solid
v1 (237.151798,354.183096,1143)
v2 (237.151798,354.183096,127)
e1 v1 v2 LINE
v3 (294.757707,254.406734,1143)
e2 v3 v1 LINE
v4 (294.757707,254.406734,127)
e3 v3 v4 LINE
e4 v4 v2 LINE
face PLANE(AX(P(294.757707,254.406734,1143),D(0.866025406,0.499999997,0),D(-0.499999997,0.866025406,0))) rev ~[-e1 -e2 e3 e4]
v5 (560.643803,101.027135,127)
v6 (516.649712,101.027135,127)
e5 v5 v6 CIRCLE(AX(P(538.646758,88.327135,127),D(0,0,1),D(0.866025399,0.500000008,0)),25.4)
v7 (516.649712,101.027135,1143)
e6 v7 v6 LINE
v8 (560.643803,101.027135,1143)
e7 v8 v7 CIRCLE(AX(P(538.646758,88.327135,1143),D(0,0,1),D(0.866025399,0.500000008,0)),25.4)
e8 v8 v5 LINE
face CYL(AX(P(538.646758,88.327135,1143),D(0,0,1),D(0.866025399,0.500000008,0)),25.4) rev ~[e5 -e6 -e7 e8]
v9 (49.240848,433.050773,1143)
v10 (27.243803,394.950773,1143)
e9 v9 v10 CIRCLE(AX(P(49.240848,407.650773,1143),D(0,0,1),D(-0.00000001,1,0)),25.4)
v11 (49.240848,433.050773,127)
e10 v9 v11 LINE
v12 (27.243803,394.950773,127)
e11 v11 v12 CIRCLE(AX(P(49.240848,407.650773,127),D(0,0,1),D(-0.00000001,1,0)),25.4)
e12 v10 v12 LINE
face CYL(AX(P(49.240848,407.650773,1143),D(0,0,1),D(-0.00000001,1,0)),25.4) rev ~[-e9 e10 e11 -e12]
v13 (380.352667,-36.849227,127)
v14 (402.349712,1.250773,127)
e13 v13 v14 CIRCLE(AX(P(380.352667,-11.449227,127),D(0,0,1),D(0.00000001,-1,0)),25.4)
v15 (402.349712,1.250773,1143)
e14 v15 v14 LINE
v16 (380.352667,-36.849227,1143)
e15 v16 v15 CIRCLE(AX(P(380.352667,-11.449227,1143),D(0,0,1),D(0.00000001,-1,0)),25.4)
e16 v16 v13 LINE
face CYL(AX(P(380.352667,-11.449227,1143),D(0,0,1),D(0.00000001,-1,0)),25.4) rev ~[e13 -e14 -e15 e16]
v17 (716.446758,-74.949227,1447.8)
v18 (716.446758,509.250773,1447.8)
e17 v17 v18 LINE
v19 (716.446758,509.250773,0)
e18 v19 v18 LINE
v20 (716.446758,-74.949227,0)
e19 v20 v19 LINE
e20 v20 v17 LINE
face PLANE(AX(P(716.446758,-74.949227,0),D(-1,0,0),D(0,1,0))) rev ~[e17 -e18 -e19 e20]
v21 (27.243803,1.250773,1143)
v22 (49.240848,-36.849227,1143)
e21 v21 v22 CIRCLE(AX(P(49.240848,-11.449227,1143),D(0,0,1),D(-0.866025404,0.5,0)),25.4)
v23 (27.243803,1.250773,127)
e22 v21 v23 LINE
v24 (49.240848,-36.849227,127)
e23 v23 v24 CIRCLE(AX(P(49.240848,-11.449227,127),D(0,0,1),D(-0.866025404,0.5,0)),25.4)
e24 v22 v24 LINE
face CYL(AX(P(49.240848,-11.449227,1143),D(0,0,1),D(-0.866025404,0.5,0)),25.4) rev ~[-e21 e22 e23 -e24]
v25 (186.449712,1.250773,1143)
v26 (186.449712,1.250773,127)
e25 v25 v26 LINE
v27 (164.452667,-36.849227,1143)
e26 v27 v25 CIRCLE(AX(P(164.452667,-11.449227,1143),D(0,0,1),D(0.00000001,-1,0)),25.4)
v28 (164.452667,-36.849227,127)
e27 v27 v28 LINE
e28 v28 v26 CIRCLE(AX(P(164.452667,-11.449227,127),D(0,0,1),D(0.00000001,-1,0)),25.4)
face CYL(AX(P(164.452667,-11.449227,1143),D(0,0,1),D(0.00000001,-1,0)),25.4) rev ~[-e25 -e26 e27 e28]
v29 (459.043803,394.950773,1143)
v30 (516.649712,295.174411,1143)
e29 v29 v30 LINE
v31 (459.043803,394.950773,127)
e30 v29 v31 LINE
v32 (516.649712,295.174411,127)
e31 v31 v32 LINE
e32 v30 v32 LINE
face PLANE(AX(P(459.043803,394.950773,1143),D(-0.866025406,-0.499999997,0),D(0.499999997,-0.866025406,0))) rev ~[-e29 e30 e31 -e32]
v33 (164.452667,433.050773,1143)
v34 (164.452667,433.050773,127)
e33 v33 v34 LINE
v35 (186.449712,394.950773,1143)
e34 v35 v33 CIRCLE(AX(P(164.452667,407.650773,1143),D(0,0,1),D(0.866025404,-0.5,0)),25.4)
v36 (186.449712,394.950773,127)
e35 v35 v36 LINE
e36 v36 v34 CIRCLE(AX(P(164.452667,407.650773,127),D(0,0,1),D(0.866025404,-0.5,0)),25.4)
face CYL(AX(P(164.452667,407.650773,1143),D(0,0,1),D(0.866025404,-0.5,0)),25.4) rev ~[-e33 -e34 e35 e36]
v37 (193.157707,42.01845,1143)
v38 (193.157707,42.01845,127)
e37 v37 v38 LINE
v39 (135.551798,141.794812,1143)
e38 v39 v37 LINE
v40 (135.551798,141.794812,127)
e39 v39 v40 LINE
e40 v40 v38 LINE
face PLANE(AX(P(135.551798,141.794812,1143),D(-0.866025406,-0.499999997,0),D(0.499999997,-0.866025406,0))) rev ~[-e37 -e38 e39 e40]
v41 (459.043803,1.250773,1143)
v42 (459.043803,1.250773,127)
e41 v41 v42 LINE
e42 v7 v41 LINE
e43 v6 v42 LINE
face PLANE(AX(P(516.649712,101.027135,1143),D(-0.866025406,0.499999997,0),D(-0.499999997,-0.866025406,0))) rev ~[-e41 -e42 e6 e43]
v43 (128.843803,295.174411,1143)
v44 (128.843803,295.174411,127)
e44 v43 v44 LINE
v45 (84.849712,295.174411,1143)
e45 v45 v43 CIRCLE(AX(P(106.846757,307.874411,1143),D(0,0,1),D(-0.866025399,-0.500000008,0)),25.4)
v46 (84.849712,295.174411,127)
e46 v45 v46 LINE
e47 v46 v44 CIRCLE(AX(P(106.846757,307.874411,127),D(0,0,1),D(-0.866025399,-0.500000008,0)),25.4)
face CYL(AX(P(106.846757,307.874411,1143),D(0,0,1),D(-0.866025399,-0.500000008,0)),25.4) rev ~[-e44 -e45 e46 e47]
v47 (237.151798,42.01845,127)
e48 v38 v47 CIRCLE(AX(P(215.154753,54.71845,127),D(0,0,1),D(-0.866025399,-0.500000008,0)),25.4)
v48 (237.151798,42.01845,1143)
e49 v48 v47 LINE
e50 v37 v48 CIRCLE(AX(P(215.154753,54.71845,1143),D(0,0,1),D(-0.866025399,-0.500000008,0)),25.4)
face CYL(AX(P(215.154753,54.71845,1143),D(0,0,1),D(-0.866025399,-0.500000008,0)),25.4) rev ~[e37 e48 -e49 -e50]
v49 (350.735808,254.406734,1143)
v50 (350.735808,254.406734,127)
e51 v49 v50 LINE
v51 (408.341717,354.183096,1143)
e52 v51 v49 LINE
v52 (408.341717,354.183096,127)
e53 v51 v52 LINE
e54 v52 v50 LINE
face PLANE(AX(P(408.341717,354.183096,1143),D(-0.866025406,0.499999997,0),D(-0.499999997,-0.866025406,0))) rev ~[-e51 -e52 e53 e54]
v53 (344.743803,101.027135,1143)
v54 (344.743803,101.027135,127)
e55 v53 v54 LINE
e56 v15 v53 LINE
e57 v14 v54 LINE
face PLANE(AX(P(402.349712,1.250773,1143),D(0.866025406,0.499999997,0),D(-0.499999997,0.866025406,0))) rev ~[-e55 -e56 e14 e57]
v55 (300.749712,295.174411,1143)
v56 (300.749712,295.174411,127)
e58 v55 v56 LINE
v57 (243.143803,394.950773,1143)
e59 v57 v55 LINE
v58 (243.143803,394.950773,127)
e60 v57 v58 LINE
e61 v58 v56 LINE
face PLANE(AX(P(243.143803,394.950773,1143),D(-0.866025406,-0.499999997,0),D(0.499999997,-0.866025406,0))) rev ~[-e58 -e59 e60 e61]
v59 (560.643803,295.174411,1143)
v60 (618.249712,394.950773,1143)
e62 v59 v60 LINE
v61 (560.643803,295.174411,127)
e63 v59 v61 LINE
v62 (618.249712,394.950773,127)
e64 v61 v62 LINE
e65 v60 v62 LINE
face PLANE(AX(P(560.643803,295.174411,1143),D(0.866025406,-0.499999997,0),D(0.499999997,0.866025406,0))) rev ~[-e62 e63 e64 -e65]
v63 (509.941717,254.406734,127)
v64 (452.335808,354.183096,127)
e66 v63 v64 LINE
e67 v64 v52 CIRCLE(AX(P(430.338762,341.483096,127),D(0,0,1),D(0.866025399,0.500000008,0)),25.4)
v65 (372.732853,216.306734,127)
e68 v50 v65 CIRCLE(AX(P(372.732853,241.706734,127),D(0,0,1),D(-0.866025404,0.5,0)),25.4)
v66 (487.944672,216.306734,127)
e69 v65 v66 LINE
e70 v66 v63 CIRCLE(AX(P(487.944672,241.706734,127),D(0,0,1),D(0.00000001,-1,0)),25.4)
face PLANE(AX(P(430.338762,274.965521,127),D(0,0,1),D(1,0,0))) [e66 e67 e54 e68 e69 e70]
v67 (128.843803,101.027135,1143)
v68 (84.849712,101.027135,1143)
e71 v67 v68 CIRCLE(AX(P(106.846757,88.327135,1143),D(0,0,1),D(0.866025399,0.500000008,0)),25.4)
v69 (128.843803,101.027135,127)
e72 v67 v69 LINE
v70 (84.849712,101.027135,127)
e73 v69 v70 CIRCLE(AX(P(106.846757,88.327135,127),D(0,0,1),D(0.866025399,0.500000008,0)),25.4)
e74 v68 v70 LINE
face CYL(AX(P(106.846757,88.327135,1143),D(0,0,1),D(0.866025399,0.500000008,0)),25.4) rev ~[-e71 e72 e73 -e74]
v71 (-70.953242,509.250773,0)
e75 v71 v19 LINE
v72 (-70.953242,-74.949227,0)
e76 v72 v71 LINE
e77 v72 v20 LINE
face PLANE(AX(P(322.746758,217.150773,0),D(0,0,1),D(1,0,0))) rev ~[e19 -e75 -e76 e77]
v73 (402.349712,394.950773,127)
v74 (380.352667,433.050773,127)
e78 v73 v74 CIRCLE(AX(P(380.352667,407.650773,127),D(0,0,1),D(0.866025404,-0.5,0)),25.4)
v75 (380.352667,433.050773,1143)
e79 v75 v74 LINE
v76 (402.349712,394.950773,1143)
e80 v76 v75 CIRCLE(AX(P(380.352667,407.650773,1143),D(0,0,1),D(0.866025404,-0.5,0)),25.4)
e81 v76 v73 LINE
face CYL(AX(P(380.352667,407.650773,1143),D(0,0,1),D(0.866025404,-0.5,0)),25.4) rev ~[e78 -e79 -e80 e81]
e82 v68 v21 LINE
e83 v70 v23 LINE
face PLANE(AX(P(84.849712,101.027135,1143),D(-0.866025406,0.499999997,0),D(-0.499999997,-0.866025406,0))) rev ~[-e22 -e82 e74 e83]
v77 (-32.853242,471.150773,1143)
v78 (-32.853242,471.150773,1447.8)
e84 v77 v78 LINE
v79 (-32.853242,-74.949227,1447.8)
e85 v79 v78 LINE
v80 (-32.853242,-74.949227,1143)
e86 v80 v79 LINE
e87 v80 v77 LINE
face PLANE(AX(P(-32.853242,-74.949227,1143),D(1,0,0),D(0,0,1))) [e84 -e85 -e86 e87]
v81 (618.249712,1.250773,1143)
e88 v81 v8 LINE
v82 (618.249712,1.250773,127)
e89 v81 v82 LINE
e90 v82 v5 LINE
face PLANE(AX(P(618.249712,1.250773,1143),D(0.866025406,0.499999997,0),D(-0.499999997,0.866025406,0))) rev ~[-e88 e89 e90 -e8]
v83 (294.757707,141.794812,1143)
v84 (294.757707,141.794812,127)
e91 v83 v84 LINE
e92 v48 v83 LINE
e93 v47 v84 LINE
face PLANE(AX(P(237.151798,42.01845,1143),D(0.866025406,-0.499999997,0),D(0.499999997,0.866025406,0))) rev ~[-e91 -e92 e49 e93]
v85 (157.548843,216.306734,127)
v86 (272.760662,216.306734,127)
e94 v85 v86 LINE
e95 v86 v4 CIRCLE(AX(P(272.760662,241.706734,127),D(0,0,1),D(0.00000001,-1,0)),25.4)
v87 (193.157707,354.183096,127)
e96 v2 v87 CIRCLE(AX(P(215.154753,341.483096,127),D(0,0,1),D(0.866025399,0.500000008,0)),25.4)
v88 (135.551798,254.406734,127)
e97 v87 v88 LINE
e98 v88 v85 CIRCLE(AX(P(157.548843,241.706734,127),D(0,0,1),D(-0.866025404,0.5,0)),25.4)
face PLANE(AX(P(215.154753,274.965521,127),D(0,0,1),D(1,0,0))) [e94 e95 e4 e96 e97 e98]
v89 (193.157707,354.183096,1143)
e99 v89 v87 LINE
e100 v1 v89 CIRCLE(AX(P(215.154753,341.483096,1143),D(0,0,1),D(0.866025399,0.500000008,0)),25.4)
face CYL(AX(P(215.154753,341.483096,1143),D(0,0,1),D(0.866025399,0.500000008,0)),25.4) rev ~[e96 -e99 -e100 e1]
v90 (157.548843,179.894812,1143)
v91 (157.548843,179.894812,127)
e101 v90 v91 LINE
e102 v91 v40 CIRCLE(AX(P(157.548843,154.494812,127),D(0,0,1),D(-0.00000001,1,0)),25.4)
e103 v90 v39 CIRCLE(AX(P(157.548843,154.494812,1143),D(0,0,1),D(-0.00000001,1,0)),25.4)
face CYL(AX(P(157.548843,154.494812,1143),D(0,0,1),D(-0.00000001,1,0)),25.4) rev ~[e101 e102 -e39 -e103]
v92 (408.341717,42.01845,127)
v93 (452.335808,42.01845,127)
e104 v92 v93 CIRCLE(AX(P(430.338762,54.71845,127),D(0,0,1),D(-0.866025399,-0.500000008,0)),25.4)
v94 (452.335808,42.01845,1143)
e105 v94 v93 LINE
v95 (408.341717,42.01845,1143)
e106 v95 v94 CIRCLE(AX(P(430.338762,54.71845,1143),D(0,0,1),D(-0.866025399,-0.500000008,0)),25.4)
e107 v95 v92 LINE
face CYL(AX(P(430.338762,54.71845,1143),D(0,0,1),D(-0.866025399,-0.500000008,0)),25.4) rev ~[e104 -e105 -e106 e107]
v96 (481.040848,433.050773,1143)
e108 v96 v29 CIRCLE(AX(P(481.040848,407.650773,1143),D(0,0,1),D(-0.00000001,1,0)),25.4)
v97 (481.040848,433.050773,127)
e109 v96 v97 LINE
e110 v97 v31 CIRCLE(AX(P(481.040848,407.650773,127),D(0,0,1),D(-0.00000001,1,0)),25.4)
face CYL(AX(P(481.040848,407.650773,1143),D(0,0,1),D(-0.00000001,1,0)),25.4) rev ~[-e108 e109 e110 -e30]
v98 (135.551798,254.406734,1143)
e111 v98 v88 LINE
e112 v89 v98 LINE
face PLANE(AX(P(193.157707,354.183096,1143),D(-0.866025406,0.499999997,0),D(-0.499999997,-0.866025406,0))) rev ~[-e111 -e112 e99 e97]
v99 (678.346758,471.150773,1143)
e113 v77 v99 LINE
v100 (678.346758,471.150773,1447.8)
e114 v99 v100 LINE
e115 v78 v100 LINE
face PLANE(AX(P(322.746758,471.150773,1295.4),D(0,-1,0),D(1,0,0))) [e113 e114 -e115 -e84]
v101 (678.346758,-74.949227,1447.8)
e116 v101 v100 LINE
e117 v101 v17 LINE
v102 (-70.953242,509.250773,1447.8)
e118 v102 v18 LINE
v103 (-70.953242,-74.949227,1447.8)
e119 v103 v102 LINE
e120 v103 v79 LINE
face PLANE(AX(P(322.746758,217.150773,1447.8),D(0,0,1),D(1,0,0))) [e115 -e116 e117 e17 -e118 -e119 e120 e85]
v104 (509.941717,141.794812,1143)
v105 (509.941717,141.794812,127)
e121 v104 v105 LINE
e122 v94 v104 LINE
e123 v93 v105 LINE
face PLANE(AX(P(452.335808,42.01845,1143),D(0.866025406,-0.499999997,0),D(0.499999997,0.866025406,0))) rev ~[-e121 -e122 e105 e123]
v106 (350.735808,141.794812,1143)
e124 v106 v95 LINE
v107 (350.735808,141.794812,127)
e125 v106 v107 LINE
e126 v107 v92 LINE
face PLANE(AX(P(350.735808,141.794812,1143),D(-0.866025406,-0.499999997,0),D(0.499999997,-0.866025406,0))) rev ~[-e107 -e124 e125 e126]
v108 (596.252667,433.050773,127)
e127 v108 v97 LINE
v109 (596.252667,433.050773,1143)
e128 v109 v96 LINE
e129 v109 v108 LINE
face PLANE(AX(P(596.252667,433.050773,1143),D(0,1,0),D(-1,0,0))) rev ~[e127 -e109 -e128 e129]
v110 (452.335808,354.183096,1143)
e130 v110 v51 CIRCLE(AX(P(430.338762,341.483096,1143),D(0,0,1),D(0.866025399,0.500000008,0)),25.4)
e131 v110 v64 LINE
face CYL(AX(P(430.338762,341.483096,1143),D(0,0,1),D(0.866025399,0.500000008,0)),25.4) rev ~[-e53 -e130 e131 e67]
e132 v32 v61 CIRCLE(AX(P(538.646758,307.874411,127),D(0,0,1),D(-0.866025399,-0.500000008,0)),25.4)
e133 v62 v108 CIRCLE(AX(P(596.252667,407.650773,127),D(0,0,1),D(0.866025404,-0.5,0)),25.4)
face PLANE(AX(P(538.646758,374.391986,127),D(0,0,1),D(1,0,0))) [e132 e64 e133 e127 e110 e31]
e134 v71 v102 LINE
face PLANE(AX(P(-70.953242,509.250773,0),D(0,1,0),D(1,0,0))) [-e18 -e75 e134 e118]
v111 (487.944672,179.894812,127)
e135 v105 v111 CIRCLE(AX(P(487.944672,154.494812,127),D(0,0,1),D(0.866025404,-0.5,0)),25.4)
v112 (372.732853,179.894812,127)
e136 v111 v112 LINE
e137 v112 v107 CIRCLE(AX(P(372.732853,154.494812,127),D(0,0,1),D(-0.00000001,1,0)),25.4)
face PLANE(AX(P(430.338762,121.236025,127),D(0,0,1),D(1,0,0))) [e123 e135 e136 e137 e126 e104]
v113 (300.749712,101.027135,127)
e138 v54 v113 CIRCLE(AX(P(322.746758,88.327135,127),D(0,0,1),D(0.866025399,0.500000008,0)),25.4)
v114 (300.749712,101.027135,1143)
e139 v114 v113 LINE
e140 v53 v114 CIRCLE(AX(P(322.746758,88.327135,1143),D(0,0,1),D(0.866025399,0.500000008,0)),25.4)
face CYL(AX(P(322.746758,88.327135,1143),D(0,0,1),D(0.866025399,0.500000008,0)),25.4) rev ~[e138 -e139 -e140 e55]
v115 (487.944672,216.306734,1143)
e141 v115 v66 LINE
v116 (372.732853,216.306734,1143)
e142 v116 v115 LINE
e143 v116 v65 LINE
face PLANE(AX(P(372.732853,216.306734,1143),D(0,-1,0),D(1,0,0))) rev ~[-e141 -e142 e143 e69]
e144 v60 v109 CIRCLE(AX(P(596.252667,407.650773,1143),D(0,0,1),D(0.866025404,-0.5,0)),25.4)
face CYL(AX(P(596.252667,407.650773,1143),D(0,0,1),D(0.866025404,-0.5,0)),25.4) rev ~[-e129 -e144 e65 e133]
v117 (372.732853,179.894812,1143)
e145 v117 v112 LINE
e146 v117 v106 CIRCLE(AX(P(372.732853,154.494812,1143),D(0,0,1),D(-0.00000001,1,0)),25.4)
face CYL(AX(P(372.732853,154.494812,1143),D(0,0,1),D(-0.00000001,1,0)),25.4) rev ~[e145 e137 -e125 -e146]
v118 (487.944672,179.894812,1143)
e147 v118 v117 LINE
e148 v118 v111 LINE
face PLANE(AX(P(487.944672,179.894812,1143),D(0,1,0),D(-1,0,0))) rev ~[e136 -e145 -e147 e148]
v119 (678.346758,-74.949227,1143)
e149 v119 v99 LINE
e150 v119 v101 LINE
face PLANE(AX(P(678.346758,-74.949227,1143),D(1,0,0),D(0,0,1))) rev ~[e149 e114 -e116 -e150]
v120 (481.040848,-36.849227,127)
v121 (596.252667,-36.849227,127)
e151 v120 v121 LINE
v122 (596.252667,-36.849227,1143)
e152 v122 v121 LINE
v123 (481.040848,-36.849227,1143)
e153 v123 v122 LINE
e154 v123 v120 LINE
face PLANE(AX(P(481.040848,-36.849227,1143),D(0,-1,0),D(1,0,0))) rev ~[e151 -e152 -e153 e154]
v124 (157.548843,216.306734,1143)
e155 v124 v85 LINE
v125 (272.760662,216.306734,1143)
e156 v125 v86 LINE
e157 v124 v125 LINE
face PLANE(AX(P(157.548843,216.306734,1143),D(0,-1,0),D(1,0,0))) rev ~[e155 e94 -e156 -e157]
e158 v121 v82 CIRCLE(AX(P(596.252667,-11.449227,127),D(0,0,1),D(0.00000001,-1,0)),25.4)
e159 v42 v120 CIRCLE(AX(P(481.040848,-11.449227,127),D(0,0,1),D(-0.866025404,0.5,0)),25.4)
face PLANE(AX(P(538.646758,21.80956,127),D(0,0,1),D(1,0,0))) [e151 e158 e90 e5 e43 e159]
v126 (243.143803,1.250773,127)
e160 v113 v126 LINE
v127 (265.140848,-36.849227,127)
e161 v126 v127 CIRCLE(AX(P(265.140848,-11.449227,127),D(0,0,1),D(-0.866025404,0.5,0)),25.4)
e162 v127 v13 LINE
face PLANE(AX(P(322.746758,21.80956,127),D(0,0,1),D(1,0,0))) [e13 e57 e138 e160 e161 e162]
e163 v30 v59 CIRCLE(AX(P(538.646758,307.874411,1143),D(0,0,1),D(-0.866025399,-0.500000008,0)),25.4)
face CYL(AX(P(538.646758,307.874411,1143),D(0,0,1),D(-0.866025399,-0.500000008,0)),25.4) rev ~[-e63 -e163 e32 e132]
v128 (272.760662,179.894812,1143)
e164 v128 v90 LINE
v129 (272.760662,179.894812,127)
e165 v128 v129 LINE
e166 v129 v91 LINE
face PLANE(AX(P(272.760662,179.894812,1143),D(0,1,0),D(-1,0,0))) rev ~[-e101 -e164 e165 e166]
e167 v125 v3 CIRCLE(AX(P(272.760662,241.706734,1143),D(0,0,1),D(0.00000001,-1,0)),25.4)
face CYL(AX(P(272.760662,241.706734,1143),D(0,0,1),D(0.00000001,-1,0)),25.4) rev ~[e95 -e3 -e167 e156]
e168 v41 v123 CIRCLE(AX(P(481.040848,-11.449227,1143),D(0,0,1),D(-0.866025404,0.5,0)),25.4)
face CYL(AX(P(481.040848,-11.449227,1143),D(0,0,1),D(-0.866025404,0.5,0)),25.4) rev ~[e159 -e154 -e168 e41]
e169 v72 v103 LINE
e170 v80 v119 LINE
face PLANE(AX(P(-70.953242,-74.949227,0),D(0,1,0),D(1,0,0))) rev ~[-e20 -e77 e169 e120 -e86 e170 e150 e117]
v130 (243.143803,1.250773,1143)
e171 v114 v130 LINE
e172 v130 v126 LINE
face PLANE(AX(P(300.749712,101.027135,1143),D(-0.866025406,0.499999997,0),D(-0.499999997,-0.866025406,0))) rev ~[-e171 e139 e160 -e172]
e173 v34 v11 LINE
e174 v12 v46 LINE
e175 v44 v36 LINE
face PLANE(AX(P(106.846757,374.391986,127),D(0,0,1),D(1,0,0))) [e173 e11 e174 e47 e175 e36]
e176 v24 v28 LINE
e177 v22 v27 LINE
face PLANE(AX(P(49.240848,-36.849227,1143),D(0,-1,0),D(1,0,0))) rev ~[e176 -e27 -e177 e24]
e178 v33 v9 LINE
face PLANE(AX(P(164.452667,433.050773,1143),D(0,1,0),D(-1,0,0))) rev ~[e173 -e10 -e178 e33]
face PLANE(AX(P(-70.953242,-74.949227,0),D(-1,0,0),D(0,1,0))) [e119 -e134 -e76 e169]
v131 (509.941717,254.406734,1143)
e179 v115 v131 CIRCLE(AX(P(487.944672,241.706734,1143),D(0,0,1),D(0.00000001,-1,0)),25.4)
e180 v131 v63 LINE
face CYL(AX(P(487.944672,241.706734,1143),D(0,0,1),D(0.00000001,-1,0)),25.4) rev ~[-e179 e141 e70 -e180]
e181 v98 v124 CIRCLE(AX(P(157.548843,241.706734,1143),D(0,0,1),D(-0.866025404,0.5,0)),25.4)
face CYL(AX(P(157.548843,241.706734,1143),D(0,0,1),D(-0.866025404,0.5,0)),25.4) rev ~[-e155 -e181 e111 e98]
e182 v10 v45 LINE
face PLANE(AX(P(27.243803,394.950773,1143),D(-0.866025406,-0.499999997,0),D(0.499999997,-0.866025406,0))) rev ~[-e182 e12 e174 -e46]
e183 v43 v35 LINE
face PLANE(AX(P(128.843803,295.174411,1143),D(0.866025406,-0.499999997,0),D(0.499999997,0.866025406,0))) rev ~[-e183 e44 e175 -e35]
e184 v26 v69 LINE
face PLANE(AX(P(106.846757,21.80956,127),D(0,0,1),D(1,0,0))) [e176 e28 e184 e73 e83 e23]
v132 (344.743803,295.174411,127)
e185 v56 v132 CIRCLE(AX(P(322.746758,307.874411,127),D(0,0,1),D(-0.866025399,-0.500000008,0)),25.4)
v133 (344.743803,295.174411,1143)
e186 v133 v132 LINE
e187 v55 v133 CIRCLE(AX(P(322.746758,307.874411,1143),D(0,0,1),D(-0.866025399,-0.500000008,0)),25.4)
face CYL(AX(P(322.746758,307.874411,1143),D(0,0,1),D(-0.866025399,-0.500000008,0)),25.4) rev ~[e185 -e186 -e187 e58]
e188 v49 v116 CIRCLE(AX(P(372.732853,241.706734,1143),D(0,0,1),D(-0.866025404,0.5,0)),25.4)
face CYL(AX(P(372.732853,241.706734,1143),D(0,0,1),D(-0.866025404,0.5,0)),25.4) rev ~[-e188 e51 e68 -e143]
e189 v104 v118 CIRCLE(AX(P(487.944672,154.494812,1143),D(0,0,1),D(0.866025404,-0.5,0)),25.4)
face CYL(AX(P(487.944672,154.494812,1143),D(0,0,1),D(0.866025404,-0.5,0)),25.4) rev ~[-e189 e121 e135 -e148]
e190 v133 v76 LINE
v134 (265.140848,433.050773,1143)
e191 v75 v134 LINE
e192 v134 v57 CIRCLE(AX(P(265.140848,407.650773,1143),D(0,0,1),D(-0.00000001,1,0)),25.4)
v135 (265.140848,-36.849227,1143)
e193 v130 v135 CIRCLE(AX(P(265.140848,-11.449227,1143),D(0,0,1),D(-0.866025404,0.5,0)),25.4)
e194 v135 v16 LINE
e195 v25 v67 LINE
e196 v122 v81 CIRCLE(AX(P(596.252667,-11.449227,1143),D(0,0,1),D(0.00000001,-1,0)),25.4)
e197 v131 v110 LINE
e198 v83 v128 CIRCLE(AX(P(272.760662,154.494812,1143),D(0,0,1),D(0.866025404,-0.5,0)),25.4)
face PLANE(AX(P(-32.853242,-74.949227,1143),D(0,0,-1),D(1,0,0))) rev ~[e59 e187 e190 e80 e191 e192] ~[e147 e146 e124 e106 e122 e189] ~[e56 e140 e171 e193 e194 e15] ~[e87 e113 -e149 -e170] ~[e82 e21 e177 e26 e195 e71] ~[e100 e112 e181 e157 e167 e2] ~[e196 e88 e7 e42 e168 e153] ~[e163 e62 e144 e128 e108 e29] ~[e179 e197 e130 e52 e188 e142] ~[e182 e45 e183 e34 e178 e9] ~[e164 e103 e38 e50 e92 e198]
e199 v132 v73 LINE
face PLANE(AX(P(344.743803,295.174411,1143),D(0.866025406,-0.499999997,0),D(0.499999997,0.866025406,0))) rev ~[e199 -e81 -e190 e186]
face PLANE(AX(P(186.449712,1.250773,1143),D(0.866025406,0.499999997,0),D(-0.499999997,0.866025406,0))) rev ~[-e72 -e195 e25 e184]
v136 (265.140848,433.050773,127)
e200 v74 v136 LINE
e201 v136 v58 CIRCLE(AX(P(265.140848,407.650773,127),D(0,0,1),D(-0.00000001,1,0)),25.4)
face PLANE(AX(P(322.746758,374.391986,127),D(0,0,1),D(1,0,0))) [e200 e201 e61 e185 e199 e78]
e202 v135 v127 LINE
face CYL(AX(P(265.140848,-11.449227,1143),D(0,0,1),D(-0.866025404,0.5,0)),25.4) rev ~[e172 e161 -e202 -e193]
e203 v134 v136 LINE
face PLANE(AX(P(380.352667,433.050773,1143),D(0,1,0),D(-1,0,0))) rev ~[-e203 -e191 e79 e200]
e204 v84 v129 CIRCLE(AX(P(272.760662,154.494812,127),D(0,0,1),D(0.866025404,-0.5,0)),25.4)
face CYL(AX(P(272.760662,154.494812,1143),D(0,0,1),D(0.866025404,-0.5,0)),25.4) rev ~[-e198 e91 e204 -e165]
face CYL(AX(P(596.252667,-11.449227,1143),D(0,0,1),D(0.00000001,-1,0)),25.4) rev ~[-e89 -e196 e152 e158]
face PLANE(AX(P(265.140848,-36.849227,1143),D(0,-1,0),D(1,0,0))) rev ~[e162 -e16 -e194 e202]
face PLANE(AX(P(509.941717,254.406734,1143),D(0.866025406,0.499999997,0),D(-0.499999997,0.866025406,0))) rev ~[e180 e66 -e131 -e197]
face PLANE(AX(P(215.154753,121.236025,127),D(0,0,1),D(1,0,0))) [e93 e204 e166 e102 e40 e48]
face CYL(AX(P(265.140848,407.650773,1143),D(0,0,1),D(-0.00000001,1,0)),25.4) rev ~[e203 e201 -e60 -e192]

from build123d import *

# Parameters (mm, degrees)
F0_W     = 787.4
F0_H     = 584.2
F1_DEPTH = 1447.8
F2_W     = 711.2
F2_H     = 304.8
F3_DEPTH = 546.1
F5_DEPTH = 1016


with BuildPart() as f1:
    # F0 (on Top) → F1 (new body)
    with BuildSketch(Plane.XY):
        with Locations((322.746758, 217.150773)):
            Rectangle(F0_W, F0_H)
    extrude(amount=F1_DEPTH)

    # F2 (on face) → F3 (cut)
    with BuildSketch(Plane.XZ.offset(74.949227)):
        with Locations((322.746758, 1295.4)):
            Rectangle(F2_W, F2_H)
    extrude(amount=-F3_DEPTH, mode=Mode.SUBTRACT)

    # F4 (on face) → F5 (cut)
    with BuildSketch(Plane.XY.offset(1143)):
        with BuildLine():
            ThreePointArc((27.243803, 1.250773), (27.243803, -24.149227), (49.240848, -36.849227))
            Line((49.240848, -36.849227), (164.452667, -36.849227))
            ThreePointArc((164.452667, -36.849227), (186.449712, -24.149227), (186.449712, 1.250773))
            Line((186.449712, 1.250773), (128.843803, 101.027135))
            ThreePointArc((128.843803, 101.027135), (106.846758, 113.727135), (84.849712, 101.027135))
            Line((84.849712, 101.027135), (27.243803, 1.250773))
        make_face()
        with BuildLine():
            ThreePointArc((380.352667, -36.849227), (402.349712, -24.149227), (402.349712, 1.250773))
            Line((402.349712, 1.250773), (344.743803, 101.027135))
            ThreePointArc((344.743803, 101.027135), (322.746758, 113.727135), (300.749712, 101.027135))
            Line((300.749712, 101.027135), (243.143803, 1.250773))
            ThreePointArc((243.143803, 1.250773), (243.143803, -24.149227), (265.140848, -36.849227))
            Line((265.140848, -36.849227), (380.352667, -36.849227))
        make_face()
        with BuildLine():
            ThreePointArc((596.252667, -36.849227), (618.249712, -24.149227), (618.249712, 1.250773))
            Line((618.249712, 1.250773), (560.643803, 101.027135))
            ThreePointArc((560.643803, 101.027135), (538.646758, 113.727135), (516.649712, 101.027135))
            Line((516.649712, 101.027135), (459.043803, 1.250773))
            ThreePointArc((459.043803, 1.250773), (459.043803, -24.149227), (481.040848, -36.849227))
            Line((481.040848, -36.849227), (596.252667, -36.849227))
        make_face()
        with BuildLine():
            Line((272.760662, 179.894812), (157.548843, 179.894812))
            ThreePointArc((157.548843, 179.894812), (135.551798, 167.194812), (135.551798, 141.794812))
            Line((135.551798, 141.794812), (193.157707, 42.01845))
            ThreePointArc((193.157707, 42.01845), (215.154753, 29.31845), (237.151798, 42.01845))
            Line((237.151798, 42.01845), (294.757707, 141.794812))
            ThreePointArc((294.757707, 141.794812), (294.757707, 167.194812), (272.760662, 179.894812))
        make_face()
        with BuildLine():
            ThreePointArc((509.941717, 141.794812), (509.941717, 167.194812), (487.944672, 179.894812))
            Line((487.944672, 179.894812), (372.732853, 179.894812))
            ThreePointArc((372.732853, 179.894812), (350.735808, 167.194812), (350.735808, 141.794812))
            Line((350.735808, 141.794812), (408.341717, 42.01845))
            ThreePointArc((408.341717, 42.01845), (430.338762, 29.31845), (452.335808, 42.01845))
            Line((452.335808, 42.01845), (509.941717, 141.794812))
        make_face()
        with BuildLine():
            Line((164.452667, 433.050773), (49.240848, 433.050773))
            ThreePointArc((49.240848, 433.050773), (27.243803, 420.350773), (27.243803, 394.950773))
            Line((27.243803, 394.950773), (84.849712, 295.174411))
            ThreePointArc((84.849712, 295.174411), (106.846758, 282.474411), (128.843803, 295.174411))
            Line((128.843803, 295.174411), (186.449712, 394.950773))
            ThreePointArc((186.449712, 394.950773), (186.449712, 420.350773), (164.452667, 433.050773))
        make_face()
        with BuildLine():
            Line((560.643803, 295.174411), (618.249712, 394.950773))
            ThreePointArc((618.249712, 394.950773), (618.249712, 420.350773), (596.252667, 433.050773))
            Line((596.252667, 433.050773), (481.040848, 433.050773))
            ThreePointArc((481.040848, 433.050773), (459.043803, 420.350773), (459.043803, 394.950773))
            Line((459.043803, 394.950773), (516.649712, 295.174411))
            ThreePointArc((516.649712, 295.174411), (538.646758, 282.474411), (560.643803, 295.174411))
        make_face()
        with BuildLine():
            ThreePointArc((237.151798, 354.183096), (215.154753, 366.883096), (193.157707, 354.183096))
            Line((193.157707, 354.183096), (135.551798, 254.406734))
            ThreePointArc((135.551798, 254.406734), (135.551798, 229.006734), (157.548843, 216.306734))
            Line((157.548843, 216.306734), (272.760662, 216.306734))
            ThreePointArc((272.760662, 216.306734), (294.757707, 229.006734), (294.757707, 254.406734))
            Line((294.757707, 254.406734), (237.151798, 354.183096))
        make_face()
        with BuildLine():
            Line((408.341717, 354.183096), (350.735808, 254.406734))
            ThreePointArc((350.735808, 254.406734), (350.735808, 229.006734), (372.732853, 216.306734))
            Line((372.732853, 216.306734), (487.944672, 216.306734))
            ThreePointArc((487.944672, 216.306734), (509.941717, 229.006734), (509.941717, 254.406734))
            Line((509.941717, 254.406734), (452.335808, 354.183096))
            ThreePointArc((452.335808, 354.183096), (430.338762, 366.883096), (408.341717, 354.183096))
        make_face()
        with BuildLine():
            ThreePointArc((265.140848, 433.050773), (243.143803, 420.350773), (243.143803, 394.950773))
            Line((243.143803, 394.950773), (300.749712, 295.174411))
            ThreePointArc((300.749712, 295.174411), (322.746758, 282.474411), (344.743803, 295.174411))
            Line((344.743803, 295.174411), (402.349712, 394.950773))
            ThreePointArc((402.349712, 394.950773), (402.349712, 420.350773), (380.352667, 433.050773))
            Line((380.352667, 433.050773), (265.140848, 433.050773))
        make_face()
    extrude(amount=-F5_DEPTH, mode=Mode.SUBTRACT)


solid = f1.part
